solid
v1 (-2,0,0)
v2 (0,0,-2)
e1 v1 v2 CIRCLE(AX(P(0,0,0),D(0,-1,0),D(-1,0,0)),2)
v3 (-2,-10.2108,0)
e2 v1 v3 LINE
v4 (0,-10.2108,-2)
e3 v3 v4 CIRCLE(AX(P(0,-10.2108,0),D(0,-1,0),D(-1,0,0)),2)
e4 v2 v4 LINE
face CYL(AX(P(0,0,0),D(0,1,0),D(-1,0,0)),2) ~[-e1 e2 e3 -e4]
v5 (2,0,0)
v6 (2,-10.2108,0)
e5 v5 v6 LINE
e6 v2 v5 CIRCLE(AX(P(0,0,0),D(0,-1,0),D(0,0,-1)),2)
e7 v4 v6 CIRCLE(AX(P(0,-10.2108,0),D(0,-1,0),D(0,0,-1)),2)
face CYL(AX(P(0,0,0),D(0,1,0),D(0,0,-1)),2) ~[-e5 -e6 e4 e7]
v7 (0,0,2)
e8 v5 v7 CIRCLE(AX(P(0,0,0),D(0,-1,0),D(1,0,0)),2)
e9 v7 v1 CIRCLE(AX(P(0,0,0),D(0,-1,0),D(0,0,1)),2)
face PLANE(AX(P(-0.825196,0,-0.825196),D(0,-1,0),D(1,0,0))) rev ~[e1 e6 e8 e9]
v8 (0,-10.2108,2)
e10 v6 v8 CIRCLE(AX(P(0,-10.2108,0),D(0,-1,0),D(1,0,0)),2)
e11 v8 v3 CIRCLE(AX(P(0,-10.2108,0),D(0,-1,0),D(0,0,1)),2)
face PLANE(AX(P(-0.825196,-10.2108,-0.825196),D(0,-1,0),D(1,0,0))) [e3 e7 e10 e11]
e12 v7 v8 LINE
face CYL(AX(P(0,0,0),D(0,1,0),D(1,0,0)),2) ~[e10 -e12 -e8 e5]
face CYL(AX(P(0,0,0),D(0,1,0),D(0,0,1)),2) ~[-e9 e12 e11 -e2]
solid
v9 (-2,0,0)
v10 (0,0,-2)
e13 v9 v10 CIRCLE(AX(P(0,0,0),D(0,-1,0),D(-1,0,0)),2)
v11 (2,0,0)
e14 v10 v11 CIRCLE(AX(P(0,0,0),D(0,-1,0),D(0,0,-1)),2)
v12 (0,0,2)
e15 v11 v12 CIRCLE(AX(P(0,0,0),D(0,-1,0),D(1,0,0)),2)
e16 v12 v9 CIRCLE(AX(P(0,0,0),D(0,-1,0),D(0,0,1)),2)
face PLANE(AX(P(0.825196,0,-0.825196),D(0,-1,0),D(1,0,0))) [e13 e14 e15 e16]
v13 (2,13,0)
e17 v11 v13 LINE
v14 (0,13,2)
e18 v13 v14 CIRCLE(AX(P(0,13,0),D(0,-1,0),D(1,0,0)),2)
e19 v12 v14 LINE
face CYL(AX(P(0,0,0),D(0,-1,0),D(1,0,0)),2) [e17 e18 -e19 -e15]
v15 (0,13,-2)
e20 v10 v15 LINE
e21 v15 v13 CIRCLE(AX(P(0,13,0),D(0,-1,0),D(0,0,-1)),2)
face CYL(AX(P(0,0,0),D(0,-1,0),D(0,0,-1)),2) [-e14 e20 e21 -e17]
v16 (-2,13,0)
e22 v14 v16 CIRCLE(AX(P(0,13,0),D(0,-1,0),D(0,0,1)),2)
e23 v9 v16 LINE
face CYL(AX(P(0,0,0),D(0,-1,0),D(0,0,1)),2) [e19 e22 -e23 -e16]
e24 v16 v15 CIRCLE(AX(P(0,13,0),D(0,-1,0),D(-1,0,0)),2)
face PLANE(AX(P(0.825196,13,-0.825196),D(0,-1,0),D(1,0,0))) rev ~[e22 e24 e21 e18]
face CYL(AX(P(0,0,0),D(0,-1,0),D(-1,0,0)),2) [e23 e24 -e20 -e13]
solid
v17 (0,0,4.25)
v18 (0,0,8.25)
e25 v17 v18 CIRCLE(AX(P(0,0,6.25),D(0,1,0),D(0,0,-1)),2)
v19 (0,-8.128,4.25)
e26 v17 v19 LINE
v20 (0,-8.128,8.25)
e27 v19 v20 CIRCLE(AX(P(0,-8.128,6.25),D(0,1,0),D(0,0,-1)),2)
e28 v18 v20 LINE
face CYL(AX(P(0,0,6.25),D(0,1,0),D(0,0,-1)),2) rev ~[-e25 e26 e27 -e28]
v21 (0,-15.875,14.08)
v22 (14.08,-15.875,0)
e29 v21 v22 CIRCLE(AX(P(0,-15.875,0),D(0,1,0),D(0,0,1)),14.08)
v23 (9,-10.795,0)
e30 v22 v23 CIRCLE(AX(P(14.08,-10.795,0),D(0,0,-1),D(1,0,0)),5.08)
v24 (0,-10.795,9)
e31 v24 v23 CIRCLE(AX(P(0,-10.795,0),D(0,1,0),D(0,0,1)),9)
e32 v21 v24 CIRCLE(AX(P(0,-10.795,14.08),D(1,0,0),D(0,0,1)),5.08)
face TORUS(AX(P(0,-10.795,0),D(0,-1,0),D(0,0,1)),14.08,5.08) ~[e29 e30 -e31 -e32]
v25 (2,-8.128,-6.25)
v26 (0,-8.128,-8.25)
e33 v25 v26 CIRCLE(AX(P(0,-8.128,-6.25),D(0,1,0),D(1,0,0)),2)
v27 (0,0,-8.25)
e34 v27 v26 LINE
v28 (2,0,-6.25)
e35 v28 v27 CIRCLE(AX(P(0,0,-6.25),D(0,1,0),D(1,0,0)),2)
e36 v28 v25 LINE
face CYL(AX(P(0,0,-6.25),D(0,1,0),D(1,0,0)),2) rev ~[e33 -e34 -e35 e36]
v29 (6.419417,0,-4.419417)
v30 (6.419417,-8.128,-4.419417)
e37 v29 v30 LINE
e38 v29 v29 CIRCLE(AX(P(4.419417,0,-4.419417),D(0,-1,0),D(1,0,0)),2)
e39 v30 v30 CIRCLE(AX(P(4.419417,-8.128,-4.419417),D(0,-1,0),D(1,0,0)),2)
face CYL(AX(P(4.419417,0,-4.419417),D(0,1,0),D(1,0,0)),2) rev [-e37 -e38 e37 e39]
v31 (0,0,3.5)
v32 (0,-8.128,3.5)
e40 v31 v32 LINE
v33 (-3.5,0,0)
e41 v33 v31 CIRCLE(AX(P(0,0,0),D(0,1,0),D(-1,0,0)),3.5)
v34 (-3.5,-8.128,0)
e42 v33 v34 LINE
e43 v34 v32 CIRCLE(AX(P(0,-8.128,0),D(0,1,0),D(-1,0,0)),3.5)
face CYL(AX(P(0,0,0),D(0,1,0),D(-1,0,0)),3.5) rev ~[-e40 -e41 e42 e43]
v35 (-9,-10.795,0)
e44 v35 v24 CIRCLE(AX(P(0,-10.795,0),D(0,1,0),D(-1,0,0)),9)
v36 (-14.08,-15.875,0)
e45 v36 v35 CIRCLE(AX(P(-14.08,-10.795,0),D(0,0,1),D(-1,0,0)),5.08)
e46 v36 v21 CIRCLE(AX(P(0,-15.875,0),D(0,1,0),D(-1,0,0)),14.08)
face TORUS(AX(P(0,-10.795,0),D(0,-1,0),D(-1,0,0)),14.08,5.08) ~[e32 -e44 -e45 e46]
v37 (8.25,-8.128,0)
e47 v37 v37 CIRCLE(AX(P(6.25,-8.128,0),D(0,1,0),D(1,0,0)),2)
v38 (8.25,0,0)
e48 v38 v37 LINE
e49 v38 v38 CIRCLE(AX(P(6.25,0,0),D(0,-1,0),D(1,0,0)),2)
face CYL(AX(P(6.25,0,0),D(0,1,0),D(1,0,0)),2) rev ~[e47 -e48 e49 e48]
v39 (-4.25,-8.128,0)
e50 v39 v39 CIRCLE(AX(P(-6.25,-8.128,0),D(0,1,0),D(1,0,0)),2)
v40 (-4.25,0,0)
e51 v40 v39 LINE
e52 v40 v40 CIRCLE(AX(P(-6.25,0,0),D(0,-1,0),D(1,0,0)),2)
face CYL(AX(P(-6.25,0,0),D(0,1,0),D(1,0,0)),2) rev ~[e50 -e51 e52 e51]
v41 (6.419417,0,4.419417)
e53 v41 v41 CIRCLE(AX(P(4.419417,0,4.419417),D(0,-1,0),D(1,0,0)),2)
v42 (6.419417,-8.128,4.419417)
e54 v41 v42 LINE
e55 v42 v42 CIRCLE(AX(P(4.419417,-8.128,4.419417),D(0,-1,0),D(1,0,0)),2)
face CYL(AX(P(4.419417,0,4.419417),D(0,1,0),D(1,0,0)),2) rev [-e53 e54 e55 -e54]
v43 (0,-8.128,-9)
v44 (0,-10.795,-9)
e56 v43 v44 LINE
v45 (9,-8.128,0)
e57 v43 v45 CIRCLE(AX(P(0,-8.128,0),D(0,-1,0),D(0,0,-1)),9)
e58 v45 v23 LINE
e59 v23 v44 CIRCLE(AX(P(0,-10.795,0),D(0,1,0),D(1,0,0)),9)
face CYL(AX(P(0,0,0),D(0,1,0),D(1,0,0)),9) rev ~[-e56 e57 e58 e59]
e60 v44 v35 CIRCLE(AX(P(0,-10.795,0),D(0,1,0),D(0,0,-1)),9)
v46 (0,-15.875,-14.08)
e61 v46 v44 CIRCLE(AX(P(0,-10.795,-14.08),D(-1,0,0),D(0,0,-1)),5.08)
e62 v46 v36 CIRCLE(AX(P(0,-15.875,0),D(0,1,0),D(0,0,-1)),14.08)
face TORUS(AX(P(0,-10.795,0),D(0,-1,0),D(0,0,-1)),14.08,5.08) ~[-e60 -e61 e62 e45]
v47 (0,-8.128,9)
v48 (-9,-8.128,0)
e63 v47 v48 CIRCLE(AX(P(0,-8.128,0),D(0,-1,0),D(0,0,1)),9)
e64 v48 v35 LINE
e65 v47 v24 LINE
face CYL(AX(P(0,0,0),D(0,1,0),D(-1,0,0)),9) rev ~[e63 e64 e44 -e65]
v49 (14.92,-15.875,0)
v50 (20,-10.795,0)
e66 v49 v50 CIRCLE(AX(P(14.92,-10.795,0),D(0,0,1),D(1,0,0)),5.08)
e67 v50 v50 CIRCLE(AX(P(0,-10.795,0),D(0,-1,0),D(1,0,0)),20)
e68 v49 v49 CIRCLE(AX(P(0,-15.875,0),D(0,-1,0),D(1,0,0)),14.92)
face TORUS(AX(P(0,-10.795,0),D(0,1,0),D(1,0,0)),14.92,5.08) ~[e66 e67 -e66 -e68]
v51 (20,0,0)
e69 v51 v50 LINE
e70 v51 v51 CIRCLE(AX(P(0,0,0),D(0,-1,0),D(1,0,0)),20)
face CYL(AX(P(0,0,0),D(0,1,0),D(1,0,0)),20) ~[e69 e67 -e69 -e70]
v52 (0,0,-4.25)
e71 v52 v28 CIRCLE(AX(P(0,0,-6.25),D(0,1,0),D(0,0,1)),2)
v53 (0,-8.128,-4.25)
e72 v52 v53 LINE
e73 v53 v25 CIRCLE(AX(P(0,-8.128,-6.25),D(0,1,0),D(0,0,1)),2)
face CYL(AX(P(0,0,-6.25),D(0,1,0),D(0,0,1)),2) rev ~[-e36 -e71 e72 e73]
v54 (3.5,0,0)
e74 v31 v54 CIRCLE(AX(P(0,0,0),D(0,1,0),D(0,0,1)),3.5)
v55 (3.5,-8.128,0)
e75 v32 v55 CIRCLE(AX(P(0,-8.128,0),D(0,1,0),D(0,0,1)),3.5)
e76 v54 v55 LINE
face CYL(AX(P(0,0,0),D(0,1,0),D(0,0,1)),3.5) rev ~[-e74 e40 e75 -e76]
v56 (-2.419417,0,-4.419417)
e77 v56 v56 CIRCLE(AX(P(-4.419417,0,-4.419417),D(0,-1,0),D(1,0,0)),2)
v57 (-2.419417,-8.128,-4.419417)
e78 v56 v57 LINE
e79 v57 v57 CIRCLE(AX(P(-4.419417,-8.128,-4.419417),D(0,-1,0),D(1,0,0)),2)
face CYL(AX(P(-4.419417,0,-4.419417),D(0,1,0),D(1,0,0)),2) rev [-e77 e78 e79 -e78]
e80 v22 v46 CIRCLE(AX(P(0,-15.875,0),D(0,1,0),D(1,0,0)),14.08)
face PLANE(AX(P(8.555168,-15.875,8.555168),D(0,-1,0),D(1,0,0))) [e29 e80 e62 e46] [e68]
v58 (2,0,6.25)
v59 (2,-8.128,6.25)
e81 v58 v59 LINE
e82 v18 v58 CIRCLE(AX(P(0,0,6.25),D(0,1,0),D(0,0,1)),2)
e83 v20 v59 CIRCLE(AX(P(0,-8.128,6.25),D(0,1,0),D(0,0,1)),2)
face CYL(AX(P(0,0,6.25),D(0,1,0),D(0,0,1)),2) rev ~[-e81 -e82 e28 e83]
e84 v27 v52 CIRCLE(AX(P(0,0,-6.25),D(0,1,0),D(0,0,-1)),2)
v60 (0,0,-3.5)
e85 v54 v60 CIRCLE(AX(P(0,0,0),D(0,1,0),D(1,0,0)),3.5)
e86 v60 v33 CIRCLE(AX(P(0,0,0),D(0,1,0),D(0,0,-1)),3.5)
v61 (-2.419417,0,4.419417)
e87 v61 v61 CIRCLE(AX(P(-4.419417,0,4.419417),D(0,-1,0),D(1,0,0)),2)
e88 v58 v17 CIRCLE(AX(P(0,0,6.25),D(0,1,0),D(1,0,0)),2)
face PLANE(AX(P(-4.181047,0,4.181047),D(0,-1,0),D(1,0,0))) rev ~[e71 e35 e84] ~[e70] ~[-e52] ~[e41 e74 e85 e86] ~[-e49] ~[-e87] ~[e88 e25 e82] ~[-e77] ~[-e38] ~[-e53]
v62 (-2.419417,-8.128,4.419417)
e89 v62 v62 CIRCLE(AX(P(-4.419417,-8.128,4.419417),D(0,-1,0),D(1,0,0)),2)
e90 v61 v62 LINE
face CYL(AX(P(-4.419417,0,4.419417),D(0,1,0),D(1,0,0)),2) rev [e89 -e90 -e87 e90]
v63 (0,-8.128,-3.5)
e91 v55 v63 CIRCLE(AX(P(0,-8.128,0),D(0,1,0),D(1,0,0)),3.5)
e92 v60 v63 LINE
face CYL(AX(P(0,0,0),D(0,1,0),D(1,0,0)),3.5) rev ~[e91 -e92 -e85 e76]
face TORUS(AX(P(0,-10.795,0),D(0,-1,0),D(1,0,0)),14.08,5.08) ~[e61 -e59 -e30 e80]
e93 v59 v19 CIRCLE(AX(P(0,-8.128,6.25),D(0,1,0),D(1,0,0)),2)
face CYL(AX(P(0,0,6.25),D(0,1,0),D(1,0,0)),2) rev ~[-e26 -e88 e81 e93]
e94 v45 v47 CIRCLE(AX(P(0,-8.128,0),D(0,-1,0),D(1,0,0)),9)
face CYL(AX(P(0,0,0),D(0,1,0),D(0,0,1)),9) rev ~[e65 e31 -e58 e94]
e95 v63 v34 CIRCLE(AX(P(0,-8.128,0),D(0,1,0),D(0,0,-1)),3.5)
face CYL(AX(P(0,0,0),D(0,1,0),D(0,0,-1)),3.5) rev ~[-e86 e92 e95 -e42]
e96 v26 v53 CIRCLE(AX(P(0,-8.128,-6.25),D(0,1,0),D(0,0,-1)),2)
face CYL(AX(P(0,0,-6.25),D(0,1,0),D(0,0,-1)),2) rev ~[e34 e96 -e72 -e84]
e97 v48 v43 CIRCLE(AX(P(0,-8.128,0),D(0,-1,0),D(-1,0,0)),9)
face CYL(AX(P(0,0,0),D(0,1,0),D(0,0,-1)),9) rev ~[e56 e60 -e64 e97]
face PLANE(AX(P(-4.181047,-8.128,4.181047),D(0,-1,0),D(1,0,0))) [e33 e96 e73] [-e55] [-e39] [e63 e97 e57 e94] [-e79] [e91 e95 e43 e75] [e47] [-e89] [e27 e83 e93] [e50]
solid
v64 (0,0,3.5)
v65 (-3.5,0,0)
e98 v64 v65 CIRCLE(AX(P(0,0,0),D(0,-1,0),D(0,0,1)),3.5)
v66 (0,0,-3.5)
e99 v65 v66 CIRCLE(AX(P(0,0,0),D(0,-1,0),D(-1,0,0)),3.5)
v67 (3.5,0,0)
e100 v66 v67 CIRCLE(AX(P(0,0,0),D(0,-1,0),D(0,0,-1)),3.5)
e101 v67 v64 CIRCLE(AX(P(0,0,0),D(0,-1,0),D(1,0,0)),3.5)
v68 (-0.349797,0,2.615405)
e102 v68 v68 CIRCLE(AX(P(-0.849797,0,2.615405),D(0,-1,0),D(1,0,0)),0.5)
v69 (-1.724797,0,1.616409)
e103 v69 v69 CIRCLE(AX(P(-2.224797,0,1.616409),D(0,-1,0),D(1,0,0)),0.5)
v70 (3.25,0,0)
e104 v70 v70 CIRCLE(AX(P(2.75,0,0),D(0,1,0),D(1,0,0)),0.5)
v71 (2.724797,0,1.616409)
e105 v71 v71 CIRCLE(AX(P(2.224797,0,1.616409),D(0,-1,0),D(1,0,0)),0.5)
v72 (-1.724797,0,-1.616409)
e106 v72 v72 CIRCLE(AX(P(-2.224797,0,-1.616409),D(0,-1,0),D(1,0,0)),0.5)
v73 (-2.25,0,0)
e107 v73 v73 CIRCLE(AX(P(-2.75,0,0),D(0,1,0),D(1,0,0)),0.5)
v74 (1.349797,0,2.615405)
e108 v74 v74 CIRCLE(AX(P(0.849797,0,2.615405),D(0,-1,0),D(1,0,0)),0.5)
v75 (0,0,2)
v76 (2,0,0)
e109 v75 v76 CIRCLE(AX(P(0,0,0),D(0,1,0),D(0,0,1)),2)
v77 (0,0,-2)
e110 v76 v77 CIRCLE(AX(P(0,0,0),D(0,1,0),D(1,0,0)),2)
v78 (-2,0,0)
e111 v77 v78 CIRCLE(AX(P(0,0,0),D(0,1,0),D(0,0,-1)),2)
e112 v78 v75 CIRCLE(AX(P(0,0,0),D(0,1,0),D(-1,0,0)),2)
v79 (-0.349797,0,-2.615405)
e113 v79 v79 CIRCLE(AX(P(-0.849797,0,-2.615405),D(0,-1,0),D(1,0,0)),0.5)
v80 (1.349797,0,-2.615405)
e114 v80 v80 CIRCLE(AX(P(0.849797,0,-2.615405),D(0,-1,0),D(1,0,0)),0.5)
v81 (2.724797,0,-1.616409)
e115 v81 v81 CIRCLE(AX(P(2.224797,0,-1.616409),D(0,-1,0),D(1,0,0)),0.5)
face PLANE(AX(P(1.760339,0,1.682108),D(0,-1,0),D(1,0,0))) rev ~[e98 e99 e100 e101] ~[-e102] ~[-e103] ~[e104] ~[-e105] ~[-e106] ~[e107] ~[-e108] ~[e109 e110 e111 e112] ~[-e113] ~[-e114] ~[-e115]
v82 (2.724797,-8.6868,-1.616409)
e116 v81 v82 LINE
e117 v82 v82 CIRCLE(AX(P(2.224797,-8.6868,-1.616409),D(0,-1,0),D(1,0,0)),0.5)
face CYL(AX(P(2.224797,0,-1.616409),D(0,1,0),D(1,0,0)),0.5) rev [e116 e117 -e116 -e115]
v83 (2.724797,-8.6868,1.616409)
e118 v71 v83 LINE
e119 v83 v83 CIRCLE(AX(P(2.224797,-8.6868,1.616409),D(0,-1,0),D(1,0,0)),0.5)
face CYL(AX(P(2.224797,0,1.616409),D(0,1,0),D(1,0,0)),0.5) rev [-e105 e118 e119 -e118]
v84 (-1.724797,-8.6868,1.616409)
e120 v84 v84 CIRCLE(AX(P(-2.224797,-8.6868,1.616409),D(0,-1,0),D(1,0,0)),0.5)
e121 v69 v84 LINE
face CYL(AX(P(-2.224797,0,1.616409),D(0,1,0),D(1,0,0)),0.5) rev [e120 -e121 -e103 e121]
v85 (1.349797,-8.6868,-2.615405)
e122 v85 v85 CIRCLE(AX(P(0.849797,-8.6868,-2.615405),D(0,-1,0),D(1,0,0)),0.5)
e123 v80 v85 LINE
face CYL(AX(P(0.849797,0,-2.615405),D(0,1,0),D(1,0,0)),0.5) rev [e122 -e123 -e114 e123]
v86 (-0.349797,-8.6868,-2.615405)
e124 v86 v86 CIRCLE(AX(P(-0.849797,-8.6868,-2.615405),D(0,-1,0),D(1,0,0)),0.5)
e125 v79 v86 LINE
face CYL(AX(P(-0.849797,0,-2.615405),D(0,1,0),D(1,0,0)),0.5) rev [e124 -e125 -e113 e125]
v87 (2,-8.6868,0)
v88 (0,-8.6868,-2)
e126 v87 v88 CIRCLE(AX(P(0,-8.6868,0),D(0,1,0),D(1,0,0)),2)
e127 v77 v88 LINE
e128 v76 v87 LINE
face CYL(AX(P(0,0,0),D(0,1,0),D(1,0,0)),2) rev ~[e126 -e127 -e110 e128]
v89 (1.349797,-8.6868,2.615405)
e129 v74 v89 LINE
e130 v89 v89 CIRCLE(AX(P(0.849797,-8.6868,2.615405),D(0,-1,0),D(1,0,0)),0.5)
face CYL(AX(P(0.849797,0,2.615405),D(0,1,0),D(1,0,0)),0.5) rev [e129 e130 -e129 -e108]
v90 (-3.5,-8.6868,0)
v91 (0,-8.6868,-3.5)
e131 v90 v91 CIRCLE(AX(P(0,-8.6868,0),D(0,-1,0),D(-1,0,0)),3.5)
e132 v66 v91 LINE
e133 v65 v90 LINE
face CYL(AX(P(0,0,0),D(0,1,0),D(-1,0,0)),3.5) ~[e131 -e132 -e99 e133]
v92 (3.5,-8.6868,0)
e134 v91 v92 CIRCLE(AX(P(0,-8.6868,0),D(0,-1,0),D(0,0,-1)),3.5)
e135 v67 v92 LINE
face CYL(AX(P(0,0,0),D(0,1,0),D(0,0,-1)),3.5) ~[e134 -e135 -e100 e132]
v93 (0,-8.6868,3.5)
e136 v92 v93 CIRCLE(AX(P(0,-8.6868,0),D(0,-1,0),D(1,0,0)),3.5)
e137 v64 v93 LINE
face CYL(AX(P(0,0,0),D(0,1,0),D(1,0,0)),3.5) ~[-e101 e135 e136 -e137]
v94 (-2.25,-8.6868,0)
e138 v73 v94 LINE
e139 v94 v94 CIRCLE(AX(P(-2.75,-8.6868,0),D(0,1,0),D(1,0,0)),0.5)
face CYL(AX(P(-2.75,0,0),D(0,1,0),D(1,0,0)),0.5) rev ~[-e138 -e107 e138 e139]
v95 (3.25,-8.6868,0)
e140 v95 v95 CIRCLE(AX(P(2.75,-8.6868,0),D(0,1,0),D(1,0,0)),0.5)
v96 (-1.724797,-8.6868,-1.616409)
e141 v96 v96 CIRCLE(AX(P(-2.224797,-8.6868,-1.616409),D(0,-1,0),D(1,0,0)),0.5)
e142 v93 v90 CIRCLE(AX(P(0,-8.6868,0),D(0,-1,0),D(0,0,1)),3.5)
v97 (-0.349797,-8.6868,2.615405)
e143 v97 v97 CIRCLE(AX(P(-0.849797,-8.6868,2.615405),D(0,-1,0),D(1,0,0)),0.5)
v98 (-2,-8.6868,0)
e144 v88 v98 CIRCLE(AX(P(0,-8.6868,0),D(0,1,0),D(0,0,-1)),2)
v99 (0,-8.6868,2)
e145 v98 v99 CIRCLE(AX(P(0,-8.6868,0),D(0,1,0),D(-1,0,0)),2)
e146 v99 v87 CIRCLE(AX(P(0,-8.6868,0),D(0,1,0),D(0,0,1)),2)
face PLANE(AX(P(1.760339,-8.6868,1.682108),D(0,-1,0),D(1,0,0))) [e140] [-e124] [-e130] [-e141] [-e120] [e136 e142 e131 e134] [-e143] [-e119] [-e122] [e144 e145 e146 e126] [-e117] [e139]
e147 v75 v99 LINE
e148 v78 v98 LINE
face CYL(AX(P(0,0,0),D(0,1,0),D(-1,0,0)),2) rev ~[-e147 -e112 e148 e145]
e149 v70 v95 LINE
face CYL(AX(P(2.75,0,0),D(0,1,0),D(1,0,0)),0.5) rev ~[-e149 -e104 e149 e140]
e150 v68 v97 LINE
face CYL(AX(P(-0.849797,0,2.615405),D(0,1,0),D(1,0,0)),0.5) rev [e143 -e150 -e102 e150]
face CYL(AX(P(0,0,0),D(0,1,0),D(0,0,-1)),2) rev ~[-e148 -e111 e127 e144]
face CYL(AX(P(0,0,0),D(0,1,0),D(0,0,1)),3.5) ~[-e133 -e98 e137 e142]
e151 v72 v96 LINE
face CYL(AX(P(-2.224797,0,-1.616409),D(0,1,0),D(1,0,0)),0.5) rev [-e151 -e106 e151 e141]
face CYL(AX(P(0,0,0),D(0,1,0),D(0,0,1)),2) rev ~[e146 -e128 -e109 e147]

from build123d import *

# Parameters (mm, degrees)
F1_R     = 20
F2_DEPTH = 15.875
F3_DEPTH = 15.875
F1_R_2   = 2
F4_DEPTH = 8.128
F5_DEPTH = 10
F6_DEPTH = 13
F1_R_3   = 0.5
F7_DEPTH = 8.6868
F8_DEPTH = 10.2108
F9_R     = 5.08


with BuildPart() as f2:
    # F1 (on face) → F2 (new body)
    with BuildSketch(Plane.XZ):
        Circle(F1_R)
        with BuildLine():
            ThreePointArc((0, 18), (12.7279220614, 12.7279220614), (18, 0))
            ThreePointArc((18, 0), (12.7279220614, -12.7279220614), (0, -18))
            ThreePointArc((0, -18), (-12.7279220614, -12.7279220614), (-18, 0))
            ThreePointArc((-18, 0), (-12.7279220614, 12.7279220614), (0, 18))
        make_face(mode=Mode.SUBTRACT)
    extrude(amount=F2_DEPTH)

    # F1 (on face) → F3 (join)
    with BuildSketch(Plane.XZ):
        with BuildLine():
            ThreePointArc((0, 9), (6.3639610307, 6.3639610307), (9, 0))
            Line((9, 0), (18, 0))
            ThreePointArc((18, 0), (12.7279220614, 12.7279220614), (0, 18))
            Line((0, 18), (0, 9))
        make_face()
        with BuildLine():
            Line((18, 0), (9, 0))
            ThreePointArc((9, 0), (6.3639610307, -6.3639610307), (0, -9))
            Line((0, -9), (0, -18))
            ThreePointArc((0, -18), (12.7279220614, -12.7279220614), (18, 0))
        make_face()
        with BuildLine():
            ThreePointArc((-9, 0), (-6.3639610307, 6.3639610307), (0, 9))
            Line((0, 9), (0, 18))
            ThreePointArc((0, 18), (-12.7279220614, 12.7279220614), (-18, 0))
            Line((-18, 0), (-9, 0))
        make_face()
        with BuildLine():
            Line((0, -18), (0, -9))
            ThreePointArc((0, -9), (-6.3639610307, -6.3639610307), (-9, 0))
            Line((-9, 0), (-18, 0))
            ThreePointArc((-18, 0), (-12.7279220614, -12.7279220614), (0, -18))
        make_face()
    extrude(amount=F3_DEPTH)

    # F1 (on face) → F4 (join)
    with BuildSketch(Plane.XZ):
        with BuildLine():
            ThreePointArc((-3.5, 0), (-2.4748737342, 2.4748737342), (0, 3.5))
            Line((0, 3.5), (0, 4.25))
            ThreePointArc((0, 4.25), (-2, 6.25), (0, 8.25))
            Line((0, 8.25), (0, 9))
            ThreePointArc((0, 9), (-6.3639610307, 6.3639610307), (-9, 0))
            Line((-9, 0), (-8.25, 0))
            ThreePointArc((-8.25, 0), (-6.25, 2), (-4.25, 0))
            Line((-4.25, 0), (-3.5, 0))
        make_face()
        with Locations((-4.4194173824, 4.4194173824)):
            Circle(F1_R_2, mode=Mode.SUBTRACT)
        with BuildLine():
            ThreePointArc((0, 3.5), (2.4748737342, 2.4748737342), (3.5, 0))
            Line((3.5, 0), (4.25, 0))
            ThreePointArc((4.25, 0), (6.25, 2), (8.25, 0))
            Line((8.25, 0), (9, 0))
            ThreePointArc((9, 0), (6.3639610307, 6.3639610307), (0, 9))
            Line((0, 9), (0, 8.25))
            ThreePointArc((0, 8.25), (1.4142135624, 7.6642135624), (2, 6.25))
            ThreePointArc((2, 6.25), (1.4142135624, 4.8357864376), (0, 4.25))
            Line((0, 4.25), (0, 3.5))
        make_face()
        with Locations((4.4194173824, 4.4194173824)):
            Circle(F1_R_2, mode=Mode.SUBTRACT)
        with BuildLine():
            Line((4.25, 0), (3.5, 0))
            ThreePointArc((3.5, 0), (2.4748737342, -2.4748737342), (0, -3.5))
            Line((0, -3.5), (0, -4.25))
            ThreePointArc((0, -4.25), (1.4142135624, -4.8357864376), (2, -6.25))
            ThreePointArc((2, -6.25), (1.4142135624, -7.6642135624), (0, -8.25))
            Line((0, -8.25), (0, -9))
            ThreePointArc((0, -9), (6.3639610307, -6.3639610307), (9, 0))
            Line((9, 0), (8.25, 0))
            ThreePointArc((8.25, 0), (6.25, -2), (4.25, 0))
        make_face()
        with Locations((4.4194173824, -4.4194173824)):
            Circle(F1_R_2, mode=Mode.SUBTRACT)
        with BuildLine():
            Line((0, -4.25), (0, -3.5))
            ThreePointArc((0, -3.5), (-2.4748737342, -2.4748737342), (-3.5, 0))
            Line((-3.5, 0), (-4.25, 0))
            ThreePointArc((-4.25, 0), (-6.25, -2), (-8.25, 0))
            Line((-8.25, 0), (-9, 0))
            ThreePointArc((-9, 0), (-6.3639610307, -6.3639610307), (0, -9))
            Line((0, -9), (0, -8.25))
            ThreePointArc((0, -8.25), (-2, -6.25), (0, -4.25))
        make_face()
        with Locations((-4.4194173824, -4.4194173824)):
            Circle(F1_R_2, mode=Mode.SUBTRACT)
    extrude(amount=F4_DEPTH)

    # F1 (on face) → F5 (cut)
    with BuildSketch(Plane.XZ):
        with BuildLine():
            Line((0, -4.25), (0, -3.5))
            ThreePointArc((0, -3.5), (-2.4748737342, -2.4748737342), (-3.5, 0))
            Line((-3.5, 0), (-4.25, 0))
            ThreePointArc((-4.25, 0), (-6.25, -2), (-8.25, 0))
            Line((-8.25, 0), (-9, 0))
            ThreePointArc((-9, 0), (-6.3639610307, -6.3639610307), (0, -9))
            Line((0, -9), (0, -8.25))
            ThreePointArc((0, -8.25), (-2, -6.25), (0, -4.25))
        make_face()
        with Locations((-4.4194173824, -4.4194173824)):
            Circle(F1_R_2, mode=Mode.SUBTRACT)
        with BuildLine():
            Line((4.25, 0), (3.5, 0))
            ThreePointArc((3.5, 0), (2.4748737342, -2.4748737342), (0, -3.5))
            Line((0, -3.5), (0, -4.25))
            ThreePointArc((0, -4.25), (1.4142135624, -4.8357864376), (2, -6.25))
            ThreePointArc((2, -6.25), (1.4142135624, -7.6642135624), (0, -8.25))
            Line((0, -8.25), (0, -9))
            ThreePointArc((0, -9), (6.3639610307, -6.3639610307), (9, 0))
            Line((9, 0), (8.25, 0))
            ThreePointArc((8.25, 0), (6.25, -2), (4.25, 0))
        make_face()
        with Locations((4.4194173824, -4.4194173824)):
            Circle(F1_R_2, mode=Mode.SUBTRACT)
        with BuildLine():
            ThreePointArc((0, 3.5), (2.4748737342, 2.4748737342), (3.5, 0))
            Line((3.5, 0), (4.25, 0))
            ThreePointArc((4.25, 0), (6.25, 2), (8.25, 0))
            Line((8.25, 0), (9, 0))
            ThreePointArc((9, 0), (6.3639610307, 6.3639610307), (0, 9))
            Line((0, 9), (0, 8.25))
            ThreePointArc((0, 8.25), (1.4142135624, 7.6642135624), (2, 6.25))
            ThreePointArc((2, 6.25), (1.4142135624, 4.8357864376), (0, 4.25))
            Line((0, 4.25), (0, 3.5))
        make_face()
        with Locations((4.4194173824, 4.4194173824)):
            Circle(F1_R_2, mode=Mode.SUBTRACT)
        with BuildLine():
            ThreePointArc((-3.5, 0), (-2.4748737342, 2.4748737342), (0, 3.5))
            Line((0, 3.5), (0, 4.25))
            ThreePointArc((0, 4.25), (-2, 6.25), (0, 8.25))
            Line((0, 8.25), (0, 9))
            ThreePointArc((0, 9), (-6.3639610307, 6.3639610307), (-9, 0))
            Line((-9, 0), (-8.25, 0))
            ThreePointArc((-8.25, 0), (-6.25, 2), (-4.25, 0))
            Line((-4.25, 0), (-3.5, 0))
        make_face()
        with Locations((-4.4194173824, 4.4194173824)):
            Circle(F1_R_2, mode=Mode.SUBTRACT)
    extrude(amount=-F5_DEPTH, mode=Mode.SUBTRACT)

    # F9
    f9_edges = [f2.edges().sort_by_distance(p)[0] for p in [
        (-20, -15.875, 0),
        (0, -15.875, 9),
    ]]
    fillet(f9_edges, radius=F9_R)


with BuildPart() as f6:
    # F1 (on face) → F6 (new body)
    with BuildSketch(Plane.XZ):
        with BuildLine():
            Line((0, 0), (0, -2))
            ThreePointArc((0, -2), (1.4142135624, -1.4142135624), (2, 0))
            Line((2, 0), (0, 0))
        make_face()
        with BuildLine():
            ThreePointArc((-2, 0), (-1.4142135624, -1.4142135624), (0, -2))
            Line((0, -2), (0, 0))
            Line((0, 0), (-2, 0))
        make_face()
        with BuildLine():
            Line((0, 0), (0, 2))
            ThreePointArc((0, 2), (-1.4142135624, 1.4142135624), (-2, 0))
            Line((-2, 0), (0, 0))
        make_face()
        with BuildLine():
            ThreePointArc((2, 0), (1.4142135624, 1.4142135624), (0, 2))
            Line((0, 2), (0, 0))
            Line((0, 0), (2, 0))
        make_face()
    extrude(amount=-F6_DEPTH)


with BuildPart() as f7:
    # F1 (on face) → F7 (new body)
    with BuildSketch(Plane.XZ):
        with BuildLine():
            Line((3.25, 0), (3.5, 0))
            ThreePointArc((3.5, 0), (2.4748737342, 2.4748737342), (0, 3.5))
            Line((0, 3.5), (0, 2))
            ThreePointArc((0, 2), (1.4142135624, 1.4142135624), (2, 0))
            Line((2, 0), (2.25, 0))
            ThreePointArc((2.25, 0), (2.75, 0.5), (3.25, 0))
        make_face()
        with Locations((2.2247967345, 1.6164094438)):
            Circle(F1_R_3, mode=Mode.SUBTRACT)
        with Locations((0.8497967345, 2.6154054198)):
            Circle(F1_R_3, mode=Mode.SUBTRACT)
        with BuildLine():
            Line((0, 2), (0, 3.5))
            ThreePointArc((0, 3.5), (-2.4748737342, 2.4748737342), (-3.5, 0))
            Line((-3.5, 0), (-3.25, 0))
            ThreePointArc((-3.25, 0), (-2.75, 0.5), (-2.25, 0))
            Line((-2.25, 0), (-2, 0))
            ThreePointArc((-2, 0), (-1.4142135624, 1.4142135624), (0, 2))
        make_face()
        with Locations((-2.2247967345, 1.6164094438)):
            Circle(F1_R_3, mode=Mode.SUBTRACT)
        with Locations((-0.8497967345, 2.6154054198)):
            Circle(F1_R_3, mode=Mode.SUBTRACT)
        with BuildLine():
            ThreePointArc((-3.5, 0), (-2.4748737342, -2.4748737342), (0, -3.5))
            Line((0, -3.5), (0, -2))
            ThreePointArc((0, -2), (-1.4142135624, -1.4142135624), (-2, 0))
            Line((-2, 0), (-2.25, 0))
            ThreePointArc((-2.25, 0), (-2.75, -0.5), (-3.25, 0))
            Line((-3.25, 0), (-3.5, 0))
        make_face()
        with Locations((-0.8497967345, -2.6154054198)):
            Circle(F1_R_3, mode=Mode.SUBTRACT)
        with Locations((-2.2247967345, -1.6164094438)):
            Circle(F1_R_3, mode=Mode.SUBTRACT)
        with BuildLine():
            ThreePointArc((0, -3.5), (2.4748737342, -2.4748737342), (3.5, 0))
            Line((3.5, 0), (3.25, 0))
            ThreePointArc((3.25, 0), (2.75, -0.5), (2.25, 0))
            Line((2.25, 0), (2, 0))
            ThreePointArc((2, 0), (1.4142135624, -1.4142135624), (0, -2))
            Line((0, -2), (0, -3.5))
        make_face()
        with Locations((0.8497967345, -2.6154054198)):
            Circle(F1_R_3, mode=Mode.SUBTRACT)
        with Locations((2.2247967345, -1.6164094438)):
            Circle(F1_R_3, mode=Mode.SUBTRACT)
    extrude(amount=F7_DEPTH)


with BuildPart() as f8:
    # F1 (on face) → F8 (new body)
    with BuildSketch(Plane.XZ):
        with BuildLine():
            ThreePointArc((-2, 0), (-1.4142135624, -1.4142135624), (0, -2))
            Line((0, -2), (0, 0))
            Line((0, 0), (-2, 0))
        make_face()
        with BuildLine():
            Line((0, 0), (0, 2))
            ThreePointArc((0, 2), (-1.4142135624, 1.4142135624), (-2, 0))
            Line((-2, 0), (0, 0))
        make_face()
        with BuildLine():
            ThreePointArc((2, 0), (1.4142135624, 1.4142135624), (0, 2))
            Line((0, 2), (0, 0))
            Line((0, 0), (2, 0))
        make_face()
        with BuildLine():
            Line((0, 0), (0, -2))
            ThreePointArc((0, -2), (1.4142135624, -1.4142135624), (2, 0))
            Line((2, 0), (0, 0))
        make_face()
    extrude(amount=F8_DEPTH)


solid = Compound([f2.part, f6.part, f7.part, f8.part])
